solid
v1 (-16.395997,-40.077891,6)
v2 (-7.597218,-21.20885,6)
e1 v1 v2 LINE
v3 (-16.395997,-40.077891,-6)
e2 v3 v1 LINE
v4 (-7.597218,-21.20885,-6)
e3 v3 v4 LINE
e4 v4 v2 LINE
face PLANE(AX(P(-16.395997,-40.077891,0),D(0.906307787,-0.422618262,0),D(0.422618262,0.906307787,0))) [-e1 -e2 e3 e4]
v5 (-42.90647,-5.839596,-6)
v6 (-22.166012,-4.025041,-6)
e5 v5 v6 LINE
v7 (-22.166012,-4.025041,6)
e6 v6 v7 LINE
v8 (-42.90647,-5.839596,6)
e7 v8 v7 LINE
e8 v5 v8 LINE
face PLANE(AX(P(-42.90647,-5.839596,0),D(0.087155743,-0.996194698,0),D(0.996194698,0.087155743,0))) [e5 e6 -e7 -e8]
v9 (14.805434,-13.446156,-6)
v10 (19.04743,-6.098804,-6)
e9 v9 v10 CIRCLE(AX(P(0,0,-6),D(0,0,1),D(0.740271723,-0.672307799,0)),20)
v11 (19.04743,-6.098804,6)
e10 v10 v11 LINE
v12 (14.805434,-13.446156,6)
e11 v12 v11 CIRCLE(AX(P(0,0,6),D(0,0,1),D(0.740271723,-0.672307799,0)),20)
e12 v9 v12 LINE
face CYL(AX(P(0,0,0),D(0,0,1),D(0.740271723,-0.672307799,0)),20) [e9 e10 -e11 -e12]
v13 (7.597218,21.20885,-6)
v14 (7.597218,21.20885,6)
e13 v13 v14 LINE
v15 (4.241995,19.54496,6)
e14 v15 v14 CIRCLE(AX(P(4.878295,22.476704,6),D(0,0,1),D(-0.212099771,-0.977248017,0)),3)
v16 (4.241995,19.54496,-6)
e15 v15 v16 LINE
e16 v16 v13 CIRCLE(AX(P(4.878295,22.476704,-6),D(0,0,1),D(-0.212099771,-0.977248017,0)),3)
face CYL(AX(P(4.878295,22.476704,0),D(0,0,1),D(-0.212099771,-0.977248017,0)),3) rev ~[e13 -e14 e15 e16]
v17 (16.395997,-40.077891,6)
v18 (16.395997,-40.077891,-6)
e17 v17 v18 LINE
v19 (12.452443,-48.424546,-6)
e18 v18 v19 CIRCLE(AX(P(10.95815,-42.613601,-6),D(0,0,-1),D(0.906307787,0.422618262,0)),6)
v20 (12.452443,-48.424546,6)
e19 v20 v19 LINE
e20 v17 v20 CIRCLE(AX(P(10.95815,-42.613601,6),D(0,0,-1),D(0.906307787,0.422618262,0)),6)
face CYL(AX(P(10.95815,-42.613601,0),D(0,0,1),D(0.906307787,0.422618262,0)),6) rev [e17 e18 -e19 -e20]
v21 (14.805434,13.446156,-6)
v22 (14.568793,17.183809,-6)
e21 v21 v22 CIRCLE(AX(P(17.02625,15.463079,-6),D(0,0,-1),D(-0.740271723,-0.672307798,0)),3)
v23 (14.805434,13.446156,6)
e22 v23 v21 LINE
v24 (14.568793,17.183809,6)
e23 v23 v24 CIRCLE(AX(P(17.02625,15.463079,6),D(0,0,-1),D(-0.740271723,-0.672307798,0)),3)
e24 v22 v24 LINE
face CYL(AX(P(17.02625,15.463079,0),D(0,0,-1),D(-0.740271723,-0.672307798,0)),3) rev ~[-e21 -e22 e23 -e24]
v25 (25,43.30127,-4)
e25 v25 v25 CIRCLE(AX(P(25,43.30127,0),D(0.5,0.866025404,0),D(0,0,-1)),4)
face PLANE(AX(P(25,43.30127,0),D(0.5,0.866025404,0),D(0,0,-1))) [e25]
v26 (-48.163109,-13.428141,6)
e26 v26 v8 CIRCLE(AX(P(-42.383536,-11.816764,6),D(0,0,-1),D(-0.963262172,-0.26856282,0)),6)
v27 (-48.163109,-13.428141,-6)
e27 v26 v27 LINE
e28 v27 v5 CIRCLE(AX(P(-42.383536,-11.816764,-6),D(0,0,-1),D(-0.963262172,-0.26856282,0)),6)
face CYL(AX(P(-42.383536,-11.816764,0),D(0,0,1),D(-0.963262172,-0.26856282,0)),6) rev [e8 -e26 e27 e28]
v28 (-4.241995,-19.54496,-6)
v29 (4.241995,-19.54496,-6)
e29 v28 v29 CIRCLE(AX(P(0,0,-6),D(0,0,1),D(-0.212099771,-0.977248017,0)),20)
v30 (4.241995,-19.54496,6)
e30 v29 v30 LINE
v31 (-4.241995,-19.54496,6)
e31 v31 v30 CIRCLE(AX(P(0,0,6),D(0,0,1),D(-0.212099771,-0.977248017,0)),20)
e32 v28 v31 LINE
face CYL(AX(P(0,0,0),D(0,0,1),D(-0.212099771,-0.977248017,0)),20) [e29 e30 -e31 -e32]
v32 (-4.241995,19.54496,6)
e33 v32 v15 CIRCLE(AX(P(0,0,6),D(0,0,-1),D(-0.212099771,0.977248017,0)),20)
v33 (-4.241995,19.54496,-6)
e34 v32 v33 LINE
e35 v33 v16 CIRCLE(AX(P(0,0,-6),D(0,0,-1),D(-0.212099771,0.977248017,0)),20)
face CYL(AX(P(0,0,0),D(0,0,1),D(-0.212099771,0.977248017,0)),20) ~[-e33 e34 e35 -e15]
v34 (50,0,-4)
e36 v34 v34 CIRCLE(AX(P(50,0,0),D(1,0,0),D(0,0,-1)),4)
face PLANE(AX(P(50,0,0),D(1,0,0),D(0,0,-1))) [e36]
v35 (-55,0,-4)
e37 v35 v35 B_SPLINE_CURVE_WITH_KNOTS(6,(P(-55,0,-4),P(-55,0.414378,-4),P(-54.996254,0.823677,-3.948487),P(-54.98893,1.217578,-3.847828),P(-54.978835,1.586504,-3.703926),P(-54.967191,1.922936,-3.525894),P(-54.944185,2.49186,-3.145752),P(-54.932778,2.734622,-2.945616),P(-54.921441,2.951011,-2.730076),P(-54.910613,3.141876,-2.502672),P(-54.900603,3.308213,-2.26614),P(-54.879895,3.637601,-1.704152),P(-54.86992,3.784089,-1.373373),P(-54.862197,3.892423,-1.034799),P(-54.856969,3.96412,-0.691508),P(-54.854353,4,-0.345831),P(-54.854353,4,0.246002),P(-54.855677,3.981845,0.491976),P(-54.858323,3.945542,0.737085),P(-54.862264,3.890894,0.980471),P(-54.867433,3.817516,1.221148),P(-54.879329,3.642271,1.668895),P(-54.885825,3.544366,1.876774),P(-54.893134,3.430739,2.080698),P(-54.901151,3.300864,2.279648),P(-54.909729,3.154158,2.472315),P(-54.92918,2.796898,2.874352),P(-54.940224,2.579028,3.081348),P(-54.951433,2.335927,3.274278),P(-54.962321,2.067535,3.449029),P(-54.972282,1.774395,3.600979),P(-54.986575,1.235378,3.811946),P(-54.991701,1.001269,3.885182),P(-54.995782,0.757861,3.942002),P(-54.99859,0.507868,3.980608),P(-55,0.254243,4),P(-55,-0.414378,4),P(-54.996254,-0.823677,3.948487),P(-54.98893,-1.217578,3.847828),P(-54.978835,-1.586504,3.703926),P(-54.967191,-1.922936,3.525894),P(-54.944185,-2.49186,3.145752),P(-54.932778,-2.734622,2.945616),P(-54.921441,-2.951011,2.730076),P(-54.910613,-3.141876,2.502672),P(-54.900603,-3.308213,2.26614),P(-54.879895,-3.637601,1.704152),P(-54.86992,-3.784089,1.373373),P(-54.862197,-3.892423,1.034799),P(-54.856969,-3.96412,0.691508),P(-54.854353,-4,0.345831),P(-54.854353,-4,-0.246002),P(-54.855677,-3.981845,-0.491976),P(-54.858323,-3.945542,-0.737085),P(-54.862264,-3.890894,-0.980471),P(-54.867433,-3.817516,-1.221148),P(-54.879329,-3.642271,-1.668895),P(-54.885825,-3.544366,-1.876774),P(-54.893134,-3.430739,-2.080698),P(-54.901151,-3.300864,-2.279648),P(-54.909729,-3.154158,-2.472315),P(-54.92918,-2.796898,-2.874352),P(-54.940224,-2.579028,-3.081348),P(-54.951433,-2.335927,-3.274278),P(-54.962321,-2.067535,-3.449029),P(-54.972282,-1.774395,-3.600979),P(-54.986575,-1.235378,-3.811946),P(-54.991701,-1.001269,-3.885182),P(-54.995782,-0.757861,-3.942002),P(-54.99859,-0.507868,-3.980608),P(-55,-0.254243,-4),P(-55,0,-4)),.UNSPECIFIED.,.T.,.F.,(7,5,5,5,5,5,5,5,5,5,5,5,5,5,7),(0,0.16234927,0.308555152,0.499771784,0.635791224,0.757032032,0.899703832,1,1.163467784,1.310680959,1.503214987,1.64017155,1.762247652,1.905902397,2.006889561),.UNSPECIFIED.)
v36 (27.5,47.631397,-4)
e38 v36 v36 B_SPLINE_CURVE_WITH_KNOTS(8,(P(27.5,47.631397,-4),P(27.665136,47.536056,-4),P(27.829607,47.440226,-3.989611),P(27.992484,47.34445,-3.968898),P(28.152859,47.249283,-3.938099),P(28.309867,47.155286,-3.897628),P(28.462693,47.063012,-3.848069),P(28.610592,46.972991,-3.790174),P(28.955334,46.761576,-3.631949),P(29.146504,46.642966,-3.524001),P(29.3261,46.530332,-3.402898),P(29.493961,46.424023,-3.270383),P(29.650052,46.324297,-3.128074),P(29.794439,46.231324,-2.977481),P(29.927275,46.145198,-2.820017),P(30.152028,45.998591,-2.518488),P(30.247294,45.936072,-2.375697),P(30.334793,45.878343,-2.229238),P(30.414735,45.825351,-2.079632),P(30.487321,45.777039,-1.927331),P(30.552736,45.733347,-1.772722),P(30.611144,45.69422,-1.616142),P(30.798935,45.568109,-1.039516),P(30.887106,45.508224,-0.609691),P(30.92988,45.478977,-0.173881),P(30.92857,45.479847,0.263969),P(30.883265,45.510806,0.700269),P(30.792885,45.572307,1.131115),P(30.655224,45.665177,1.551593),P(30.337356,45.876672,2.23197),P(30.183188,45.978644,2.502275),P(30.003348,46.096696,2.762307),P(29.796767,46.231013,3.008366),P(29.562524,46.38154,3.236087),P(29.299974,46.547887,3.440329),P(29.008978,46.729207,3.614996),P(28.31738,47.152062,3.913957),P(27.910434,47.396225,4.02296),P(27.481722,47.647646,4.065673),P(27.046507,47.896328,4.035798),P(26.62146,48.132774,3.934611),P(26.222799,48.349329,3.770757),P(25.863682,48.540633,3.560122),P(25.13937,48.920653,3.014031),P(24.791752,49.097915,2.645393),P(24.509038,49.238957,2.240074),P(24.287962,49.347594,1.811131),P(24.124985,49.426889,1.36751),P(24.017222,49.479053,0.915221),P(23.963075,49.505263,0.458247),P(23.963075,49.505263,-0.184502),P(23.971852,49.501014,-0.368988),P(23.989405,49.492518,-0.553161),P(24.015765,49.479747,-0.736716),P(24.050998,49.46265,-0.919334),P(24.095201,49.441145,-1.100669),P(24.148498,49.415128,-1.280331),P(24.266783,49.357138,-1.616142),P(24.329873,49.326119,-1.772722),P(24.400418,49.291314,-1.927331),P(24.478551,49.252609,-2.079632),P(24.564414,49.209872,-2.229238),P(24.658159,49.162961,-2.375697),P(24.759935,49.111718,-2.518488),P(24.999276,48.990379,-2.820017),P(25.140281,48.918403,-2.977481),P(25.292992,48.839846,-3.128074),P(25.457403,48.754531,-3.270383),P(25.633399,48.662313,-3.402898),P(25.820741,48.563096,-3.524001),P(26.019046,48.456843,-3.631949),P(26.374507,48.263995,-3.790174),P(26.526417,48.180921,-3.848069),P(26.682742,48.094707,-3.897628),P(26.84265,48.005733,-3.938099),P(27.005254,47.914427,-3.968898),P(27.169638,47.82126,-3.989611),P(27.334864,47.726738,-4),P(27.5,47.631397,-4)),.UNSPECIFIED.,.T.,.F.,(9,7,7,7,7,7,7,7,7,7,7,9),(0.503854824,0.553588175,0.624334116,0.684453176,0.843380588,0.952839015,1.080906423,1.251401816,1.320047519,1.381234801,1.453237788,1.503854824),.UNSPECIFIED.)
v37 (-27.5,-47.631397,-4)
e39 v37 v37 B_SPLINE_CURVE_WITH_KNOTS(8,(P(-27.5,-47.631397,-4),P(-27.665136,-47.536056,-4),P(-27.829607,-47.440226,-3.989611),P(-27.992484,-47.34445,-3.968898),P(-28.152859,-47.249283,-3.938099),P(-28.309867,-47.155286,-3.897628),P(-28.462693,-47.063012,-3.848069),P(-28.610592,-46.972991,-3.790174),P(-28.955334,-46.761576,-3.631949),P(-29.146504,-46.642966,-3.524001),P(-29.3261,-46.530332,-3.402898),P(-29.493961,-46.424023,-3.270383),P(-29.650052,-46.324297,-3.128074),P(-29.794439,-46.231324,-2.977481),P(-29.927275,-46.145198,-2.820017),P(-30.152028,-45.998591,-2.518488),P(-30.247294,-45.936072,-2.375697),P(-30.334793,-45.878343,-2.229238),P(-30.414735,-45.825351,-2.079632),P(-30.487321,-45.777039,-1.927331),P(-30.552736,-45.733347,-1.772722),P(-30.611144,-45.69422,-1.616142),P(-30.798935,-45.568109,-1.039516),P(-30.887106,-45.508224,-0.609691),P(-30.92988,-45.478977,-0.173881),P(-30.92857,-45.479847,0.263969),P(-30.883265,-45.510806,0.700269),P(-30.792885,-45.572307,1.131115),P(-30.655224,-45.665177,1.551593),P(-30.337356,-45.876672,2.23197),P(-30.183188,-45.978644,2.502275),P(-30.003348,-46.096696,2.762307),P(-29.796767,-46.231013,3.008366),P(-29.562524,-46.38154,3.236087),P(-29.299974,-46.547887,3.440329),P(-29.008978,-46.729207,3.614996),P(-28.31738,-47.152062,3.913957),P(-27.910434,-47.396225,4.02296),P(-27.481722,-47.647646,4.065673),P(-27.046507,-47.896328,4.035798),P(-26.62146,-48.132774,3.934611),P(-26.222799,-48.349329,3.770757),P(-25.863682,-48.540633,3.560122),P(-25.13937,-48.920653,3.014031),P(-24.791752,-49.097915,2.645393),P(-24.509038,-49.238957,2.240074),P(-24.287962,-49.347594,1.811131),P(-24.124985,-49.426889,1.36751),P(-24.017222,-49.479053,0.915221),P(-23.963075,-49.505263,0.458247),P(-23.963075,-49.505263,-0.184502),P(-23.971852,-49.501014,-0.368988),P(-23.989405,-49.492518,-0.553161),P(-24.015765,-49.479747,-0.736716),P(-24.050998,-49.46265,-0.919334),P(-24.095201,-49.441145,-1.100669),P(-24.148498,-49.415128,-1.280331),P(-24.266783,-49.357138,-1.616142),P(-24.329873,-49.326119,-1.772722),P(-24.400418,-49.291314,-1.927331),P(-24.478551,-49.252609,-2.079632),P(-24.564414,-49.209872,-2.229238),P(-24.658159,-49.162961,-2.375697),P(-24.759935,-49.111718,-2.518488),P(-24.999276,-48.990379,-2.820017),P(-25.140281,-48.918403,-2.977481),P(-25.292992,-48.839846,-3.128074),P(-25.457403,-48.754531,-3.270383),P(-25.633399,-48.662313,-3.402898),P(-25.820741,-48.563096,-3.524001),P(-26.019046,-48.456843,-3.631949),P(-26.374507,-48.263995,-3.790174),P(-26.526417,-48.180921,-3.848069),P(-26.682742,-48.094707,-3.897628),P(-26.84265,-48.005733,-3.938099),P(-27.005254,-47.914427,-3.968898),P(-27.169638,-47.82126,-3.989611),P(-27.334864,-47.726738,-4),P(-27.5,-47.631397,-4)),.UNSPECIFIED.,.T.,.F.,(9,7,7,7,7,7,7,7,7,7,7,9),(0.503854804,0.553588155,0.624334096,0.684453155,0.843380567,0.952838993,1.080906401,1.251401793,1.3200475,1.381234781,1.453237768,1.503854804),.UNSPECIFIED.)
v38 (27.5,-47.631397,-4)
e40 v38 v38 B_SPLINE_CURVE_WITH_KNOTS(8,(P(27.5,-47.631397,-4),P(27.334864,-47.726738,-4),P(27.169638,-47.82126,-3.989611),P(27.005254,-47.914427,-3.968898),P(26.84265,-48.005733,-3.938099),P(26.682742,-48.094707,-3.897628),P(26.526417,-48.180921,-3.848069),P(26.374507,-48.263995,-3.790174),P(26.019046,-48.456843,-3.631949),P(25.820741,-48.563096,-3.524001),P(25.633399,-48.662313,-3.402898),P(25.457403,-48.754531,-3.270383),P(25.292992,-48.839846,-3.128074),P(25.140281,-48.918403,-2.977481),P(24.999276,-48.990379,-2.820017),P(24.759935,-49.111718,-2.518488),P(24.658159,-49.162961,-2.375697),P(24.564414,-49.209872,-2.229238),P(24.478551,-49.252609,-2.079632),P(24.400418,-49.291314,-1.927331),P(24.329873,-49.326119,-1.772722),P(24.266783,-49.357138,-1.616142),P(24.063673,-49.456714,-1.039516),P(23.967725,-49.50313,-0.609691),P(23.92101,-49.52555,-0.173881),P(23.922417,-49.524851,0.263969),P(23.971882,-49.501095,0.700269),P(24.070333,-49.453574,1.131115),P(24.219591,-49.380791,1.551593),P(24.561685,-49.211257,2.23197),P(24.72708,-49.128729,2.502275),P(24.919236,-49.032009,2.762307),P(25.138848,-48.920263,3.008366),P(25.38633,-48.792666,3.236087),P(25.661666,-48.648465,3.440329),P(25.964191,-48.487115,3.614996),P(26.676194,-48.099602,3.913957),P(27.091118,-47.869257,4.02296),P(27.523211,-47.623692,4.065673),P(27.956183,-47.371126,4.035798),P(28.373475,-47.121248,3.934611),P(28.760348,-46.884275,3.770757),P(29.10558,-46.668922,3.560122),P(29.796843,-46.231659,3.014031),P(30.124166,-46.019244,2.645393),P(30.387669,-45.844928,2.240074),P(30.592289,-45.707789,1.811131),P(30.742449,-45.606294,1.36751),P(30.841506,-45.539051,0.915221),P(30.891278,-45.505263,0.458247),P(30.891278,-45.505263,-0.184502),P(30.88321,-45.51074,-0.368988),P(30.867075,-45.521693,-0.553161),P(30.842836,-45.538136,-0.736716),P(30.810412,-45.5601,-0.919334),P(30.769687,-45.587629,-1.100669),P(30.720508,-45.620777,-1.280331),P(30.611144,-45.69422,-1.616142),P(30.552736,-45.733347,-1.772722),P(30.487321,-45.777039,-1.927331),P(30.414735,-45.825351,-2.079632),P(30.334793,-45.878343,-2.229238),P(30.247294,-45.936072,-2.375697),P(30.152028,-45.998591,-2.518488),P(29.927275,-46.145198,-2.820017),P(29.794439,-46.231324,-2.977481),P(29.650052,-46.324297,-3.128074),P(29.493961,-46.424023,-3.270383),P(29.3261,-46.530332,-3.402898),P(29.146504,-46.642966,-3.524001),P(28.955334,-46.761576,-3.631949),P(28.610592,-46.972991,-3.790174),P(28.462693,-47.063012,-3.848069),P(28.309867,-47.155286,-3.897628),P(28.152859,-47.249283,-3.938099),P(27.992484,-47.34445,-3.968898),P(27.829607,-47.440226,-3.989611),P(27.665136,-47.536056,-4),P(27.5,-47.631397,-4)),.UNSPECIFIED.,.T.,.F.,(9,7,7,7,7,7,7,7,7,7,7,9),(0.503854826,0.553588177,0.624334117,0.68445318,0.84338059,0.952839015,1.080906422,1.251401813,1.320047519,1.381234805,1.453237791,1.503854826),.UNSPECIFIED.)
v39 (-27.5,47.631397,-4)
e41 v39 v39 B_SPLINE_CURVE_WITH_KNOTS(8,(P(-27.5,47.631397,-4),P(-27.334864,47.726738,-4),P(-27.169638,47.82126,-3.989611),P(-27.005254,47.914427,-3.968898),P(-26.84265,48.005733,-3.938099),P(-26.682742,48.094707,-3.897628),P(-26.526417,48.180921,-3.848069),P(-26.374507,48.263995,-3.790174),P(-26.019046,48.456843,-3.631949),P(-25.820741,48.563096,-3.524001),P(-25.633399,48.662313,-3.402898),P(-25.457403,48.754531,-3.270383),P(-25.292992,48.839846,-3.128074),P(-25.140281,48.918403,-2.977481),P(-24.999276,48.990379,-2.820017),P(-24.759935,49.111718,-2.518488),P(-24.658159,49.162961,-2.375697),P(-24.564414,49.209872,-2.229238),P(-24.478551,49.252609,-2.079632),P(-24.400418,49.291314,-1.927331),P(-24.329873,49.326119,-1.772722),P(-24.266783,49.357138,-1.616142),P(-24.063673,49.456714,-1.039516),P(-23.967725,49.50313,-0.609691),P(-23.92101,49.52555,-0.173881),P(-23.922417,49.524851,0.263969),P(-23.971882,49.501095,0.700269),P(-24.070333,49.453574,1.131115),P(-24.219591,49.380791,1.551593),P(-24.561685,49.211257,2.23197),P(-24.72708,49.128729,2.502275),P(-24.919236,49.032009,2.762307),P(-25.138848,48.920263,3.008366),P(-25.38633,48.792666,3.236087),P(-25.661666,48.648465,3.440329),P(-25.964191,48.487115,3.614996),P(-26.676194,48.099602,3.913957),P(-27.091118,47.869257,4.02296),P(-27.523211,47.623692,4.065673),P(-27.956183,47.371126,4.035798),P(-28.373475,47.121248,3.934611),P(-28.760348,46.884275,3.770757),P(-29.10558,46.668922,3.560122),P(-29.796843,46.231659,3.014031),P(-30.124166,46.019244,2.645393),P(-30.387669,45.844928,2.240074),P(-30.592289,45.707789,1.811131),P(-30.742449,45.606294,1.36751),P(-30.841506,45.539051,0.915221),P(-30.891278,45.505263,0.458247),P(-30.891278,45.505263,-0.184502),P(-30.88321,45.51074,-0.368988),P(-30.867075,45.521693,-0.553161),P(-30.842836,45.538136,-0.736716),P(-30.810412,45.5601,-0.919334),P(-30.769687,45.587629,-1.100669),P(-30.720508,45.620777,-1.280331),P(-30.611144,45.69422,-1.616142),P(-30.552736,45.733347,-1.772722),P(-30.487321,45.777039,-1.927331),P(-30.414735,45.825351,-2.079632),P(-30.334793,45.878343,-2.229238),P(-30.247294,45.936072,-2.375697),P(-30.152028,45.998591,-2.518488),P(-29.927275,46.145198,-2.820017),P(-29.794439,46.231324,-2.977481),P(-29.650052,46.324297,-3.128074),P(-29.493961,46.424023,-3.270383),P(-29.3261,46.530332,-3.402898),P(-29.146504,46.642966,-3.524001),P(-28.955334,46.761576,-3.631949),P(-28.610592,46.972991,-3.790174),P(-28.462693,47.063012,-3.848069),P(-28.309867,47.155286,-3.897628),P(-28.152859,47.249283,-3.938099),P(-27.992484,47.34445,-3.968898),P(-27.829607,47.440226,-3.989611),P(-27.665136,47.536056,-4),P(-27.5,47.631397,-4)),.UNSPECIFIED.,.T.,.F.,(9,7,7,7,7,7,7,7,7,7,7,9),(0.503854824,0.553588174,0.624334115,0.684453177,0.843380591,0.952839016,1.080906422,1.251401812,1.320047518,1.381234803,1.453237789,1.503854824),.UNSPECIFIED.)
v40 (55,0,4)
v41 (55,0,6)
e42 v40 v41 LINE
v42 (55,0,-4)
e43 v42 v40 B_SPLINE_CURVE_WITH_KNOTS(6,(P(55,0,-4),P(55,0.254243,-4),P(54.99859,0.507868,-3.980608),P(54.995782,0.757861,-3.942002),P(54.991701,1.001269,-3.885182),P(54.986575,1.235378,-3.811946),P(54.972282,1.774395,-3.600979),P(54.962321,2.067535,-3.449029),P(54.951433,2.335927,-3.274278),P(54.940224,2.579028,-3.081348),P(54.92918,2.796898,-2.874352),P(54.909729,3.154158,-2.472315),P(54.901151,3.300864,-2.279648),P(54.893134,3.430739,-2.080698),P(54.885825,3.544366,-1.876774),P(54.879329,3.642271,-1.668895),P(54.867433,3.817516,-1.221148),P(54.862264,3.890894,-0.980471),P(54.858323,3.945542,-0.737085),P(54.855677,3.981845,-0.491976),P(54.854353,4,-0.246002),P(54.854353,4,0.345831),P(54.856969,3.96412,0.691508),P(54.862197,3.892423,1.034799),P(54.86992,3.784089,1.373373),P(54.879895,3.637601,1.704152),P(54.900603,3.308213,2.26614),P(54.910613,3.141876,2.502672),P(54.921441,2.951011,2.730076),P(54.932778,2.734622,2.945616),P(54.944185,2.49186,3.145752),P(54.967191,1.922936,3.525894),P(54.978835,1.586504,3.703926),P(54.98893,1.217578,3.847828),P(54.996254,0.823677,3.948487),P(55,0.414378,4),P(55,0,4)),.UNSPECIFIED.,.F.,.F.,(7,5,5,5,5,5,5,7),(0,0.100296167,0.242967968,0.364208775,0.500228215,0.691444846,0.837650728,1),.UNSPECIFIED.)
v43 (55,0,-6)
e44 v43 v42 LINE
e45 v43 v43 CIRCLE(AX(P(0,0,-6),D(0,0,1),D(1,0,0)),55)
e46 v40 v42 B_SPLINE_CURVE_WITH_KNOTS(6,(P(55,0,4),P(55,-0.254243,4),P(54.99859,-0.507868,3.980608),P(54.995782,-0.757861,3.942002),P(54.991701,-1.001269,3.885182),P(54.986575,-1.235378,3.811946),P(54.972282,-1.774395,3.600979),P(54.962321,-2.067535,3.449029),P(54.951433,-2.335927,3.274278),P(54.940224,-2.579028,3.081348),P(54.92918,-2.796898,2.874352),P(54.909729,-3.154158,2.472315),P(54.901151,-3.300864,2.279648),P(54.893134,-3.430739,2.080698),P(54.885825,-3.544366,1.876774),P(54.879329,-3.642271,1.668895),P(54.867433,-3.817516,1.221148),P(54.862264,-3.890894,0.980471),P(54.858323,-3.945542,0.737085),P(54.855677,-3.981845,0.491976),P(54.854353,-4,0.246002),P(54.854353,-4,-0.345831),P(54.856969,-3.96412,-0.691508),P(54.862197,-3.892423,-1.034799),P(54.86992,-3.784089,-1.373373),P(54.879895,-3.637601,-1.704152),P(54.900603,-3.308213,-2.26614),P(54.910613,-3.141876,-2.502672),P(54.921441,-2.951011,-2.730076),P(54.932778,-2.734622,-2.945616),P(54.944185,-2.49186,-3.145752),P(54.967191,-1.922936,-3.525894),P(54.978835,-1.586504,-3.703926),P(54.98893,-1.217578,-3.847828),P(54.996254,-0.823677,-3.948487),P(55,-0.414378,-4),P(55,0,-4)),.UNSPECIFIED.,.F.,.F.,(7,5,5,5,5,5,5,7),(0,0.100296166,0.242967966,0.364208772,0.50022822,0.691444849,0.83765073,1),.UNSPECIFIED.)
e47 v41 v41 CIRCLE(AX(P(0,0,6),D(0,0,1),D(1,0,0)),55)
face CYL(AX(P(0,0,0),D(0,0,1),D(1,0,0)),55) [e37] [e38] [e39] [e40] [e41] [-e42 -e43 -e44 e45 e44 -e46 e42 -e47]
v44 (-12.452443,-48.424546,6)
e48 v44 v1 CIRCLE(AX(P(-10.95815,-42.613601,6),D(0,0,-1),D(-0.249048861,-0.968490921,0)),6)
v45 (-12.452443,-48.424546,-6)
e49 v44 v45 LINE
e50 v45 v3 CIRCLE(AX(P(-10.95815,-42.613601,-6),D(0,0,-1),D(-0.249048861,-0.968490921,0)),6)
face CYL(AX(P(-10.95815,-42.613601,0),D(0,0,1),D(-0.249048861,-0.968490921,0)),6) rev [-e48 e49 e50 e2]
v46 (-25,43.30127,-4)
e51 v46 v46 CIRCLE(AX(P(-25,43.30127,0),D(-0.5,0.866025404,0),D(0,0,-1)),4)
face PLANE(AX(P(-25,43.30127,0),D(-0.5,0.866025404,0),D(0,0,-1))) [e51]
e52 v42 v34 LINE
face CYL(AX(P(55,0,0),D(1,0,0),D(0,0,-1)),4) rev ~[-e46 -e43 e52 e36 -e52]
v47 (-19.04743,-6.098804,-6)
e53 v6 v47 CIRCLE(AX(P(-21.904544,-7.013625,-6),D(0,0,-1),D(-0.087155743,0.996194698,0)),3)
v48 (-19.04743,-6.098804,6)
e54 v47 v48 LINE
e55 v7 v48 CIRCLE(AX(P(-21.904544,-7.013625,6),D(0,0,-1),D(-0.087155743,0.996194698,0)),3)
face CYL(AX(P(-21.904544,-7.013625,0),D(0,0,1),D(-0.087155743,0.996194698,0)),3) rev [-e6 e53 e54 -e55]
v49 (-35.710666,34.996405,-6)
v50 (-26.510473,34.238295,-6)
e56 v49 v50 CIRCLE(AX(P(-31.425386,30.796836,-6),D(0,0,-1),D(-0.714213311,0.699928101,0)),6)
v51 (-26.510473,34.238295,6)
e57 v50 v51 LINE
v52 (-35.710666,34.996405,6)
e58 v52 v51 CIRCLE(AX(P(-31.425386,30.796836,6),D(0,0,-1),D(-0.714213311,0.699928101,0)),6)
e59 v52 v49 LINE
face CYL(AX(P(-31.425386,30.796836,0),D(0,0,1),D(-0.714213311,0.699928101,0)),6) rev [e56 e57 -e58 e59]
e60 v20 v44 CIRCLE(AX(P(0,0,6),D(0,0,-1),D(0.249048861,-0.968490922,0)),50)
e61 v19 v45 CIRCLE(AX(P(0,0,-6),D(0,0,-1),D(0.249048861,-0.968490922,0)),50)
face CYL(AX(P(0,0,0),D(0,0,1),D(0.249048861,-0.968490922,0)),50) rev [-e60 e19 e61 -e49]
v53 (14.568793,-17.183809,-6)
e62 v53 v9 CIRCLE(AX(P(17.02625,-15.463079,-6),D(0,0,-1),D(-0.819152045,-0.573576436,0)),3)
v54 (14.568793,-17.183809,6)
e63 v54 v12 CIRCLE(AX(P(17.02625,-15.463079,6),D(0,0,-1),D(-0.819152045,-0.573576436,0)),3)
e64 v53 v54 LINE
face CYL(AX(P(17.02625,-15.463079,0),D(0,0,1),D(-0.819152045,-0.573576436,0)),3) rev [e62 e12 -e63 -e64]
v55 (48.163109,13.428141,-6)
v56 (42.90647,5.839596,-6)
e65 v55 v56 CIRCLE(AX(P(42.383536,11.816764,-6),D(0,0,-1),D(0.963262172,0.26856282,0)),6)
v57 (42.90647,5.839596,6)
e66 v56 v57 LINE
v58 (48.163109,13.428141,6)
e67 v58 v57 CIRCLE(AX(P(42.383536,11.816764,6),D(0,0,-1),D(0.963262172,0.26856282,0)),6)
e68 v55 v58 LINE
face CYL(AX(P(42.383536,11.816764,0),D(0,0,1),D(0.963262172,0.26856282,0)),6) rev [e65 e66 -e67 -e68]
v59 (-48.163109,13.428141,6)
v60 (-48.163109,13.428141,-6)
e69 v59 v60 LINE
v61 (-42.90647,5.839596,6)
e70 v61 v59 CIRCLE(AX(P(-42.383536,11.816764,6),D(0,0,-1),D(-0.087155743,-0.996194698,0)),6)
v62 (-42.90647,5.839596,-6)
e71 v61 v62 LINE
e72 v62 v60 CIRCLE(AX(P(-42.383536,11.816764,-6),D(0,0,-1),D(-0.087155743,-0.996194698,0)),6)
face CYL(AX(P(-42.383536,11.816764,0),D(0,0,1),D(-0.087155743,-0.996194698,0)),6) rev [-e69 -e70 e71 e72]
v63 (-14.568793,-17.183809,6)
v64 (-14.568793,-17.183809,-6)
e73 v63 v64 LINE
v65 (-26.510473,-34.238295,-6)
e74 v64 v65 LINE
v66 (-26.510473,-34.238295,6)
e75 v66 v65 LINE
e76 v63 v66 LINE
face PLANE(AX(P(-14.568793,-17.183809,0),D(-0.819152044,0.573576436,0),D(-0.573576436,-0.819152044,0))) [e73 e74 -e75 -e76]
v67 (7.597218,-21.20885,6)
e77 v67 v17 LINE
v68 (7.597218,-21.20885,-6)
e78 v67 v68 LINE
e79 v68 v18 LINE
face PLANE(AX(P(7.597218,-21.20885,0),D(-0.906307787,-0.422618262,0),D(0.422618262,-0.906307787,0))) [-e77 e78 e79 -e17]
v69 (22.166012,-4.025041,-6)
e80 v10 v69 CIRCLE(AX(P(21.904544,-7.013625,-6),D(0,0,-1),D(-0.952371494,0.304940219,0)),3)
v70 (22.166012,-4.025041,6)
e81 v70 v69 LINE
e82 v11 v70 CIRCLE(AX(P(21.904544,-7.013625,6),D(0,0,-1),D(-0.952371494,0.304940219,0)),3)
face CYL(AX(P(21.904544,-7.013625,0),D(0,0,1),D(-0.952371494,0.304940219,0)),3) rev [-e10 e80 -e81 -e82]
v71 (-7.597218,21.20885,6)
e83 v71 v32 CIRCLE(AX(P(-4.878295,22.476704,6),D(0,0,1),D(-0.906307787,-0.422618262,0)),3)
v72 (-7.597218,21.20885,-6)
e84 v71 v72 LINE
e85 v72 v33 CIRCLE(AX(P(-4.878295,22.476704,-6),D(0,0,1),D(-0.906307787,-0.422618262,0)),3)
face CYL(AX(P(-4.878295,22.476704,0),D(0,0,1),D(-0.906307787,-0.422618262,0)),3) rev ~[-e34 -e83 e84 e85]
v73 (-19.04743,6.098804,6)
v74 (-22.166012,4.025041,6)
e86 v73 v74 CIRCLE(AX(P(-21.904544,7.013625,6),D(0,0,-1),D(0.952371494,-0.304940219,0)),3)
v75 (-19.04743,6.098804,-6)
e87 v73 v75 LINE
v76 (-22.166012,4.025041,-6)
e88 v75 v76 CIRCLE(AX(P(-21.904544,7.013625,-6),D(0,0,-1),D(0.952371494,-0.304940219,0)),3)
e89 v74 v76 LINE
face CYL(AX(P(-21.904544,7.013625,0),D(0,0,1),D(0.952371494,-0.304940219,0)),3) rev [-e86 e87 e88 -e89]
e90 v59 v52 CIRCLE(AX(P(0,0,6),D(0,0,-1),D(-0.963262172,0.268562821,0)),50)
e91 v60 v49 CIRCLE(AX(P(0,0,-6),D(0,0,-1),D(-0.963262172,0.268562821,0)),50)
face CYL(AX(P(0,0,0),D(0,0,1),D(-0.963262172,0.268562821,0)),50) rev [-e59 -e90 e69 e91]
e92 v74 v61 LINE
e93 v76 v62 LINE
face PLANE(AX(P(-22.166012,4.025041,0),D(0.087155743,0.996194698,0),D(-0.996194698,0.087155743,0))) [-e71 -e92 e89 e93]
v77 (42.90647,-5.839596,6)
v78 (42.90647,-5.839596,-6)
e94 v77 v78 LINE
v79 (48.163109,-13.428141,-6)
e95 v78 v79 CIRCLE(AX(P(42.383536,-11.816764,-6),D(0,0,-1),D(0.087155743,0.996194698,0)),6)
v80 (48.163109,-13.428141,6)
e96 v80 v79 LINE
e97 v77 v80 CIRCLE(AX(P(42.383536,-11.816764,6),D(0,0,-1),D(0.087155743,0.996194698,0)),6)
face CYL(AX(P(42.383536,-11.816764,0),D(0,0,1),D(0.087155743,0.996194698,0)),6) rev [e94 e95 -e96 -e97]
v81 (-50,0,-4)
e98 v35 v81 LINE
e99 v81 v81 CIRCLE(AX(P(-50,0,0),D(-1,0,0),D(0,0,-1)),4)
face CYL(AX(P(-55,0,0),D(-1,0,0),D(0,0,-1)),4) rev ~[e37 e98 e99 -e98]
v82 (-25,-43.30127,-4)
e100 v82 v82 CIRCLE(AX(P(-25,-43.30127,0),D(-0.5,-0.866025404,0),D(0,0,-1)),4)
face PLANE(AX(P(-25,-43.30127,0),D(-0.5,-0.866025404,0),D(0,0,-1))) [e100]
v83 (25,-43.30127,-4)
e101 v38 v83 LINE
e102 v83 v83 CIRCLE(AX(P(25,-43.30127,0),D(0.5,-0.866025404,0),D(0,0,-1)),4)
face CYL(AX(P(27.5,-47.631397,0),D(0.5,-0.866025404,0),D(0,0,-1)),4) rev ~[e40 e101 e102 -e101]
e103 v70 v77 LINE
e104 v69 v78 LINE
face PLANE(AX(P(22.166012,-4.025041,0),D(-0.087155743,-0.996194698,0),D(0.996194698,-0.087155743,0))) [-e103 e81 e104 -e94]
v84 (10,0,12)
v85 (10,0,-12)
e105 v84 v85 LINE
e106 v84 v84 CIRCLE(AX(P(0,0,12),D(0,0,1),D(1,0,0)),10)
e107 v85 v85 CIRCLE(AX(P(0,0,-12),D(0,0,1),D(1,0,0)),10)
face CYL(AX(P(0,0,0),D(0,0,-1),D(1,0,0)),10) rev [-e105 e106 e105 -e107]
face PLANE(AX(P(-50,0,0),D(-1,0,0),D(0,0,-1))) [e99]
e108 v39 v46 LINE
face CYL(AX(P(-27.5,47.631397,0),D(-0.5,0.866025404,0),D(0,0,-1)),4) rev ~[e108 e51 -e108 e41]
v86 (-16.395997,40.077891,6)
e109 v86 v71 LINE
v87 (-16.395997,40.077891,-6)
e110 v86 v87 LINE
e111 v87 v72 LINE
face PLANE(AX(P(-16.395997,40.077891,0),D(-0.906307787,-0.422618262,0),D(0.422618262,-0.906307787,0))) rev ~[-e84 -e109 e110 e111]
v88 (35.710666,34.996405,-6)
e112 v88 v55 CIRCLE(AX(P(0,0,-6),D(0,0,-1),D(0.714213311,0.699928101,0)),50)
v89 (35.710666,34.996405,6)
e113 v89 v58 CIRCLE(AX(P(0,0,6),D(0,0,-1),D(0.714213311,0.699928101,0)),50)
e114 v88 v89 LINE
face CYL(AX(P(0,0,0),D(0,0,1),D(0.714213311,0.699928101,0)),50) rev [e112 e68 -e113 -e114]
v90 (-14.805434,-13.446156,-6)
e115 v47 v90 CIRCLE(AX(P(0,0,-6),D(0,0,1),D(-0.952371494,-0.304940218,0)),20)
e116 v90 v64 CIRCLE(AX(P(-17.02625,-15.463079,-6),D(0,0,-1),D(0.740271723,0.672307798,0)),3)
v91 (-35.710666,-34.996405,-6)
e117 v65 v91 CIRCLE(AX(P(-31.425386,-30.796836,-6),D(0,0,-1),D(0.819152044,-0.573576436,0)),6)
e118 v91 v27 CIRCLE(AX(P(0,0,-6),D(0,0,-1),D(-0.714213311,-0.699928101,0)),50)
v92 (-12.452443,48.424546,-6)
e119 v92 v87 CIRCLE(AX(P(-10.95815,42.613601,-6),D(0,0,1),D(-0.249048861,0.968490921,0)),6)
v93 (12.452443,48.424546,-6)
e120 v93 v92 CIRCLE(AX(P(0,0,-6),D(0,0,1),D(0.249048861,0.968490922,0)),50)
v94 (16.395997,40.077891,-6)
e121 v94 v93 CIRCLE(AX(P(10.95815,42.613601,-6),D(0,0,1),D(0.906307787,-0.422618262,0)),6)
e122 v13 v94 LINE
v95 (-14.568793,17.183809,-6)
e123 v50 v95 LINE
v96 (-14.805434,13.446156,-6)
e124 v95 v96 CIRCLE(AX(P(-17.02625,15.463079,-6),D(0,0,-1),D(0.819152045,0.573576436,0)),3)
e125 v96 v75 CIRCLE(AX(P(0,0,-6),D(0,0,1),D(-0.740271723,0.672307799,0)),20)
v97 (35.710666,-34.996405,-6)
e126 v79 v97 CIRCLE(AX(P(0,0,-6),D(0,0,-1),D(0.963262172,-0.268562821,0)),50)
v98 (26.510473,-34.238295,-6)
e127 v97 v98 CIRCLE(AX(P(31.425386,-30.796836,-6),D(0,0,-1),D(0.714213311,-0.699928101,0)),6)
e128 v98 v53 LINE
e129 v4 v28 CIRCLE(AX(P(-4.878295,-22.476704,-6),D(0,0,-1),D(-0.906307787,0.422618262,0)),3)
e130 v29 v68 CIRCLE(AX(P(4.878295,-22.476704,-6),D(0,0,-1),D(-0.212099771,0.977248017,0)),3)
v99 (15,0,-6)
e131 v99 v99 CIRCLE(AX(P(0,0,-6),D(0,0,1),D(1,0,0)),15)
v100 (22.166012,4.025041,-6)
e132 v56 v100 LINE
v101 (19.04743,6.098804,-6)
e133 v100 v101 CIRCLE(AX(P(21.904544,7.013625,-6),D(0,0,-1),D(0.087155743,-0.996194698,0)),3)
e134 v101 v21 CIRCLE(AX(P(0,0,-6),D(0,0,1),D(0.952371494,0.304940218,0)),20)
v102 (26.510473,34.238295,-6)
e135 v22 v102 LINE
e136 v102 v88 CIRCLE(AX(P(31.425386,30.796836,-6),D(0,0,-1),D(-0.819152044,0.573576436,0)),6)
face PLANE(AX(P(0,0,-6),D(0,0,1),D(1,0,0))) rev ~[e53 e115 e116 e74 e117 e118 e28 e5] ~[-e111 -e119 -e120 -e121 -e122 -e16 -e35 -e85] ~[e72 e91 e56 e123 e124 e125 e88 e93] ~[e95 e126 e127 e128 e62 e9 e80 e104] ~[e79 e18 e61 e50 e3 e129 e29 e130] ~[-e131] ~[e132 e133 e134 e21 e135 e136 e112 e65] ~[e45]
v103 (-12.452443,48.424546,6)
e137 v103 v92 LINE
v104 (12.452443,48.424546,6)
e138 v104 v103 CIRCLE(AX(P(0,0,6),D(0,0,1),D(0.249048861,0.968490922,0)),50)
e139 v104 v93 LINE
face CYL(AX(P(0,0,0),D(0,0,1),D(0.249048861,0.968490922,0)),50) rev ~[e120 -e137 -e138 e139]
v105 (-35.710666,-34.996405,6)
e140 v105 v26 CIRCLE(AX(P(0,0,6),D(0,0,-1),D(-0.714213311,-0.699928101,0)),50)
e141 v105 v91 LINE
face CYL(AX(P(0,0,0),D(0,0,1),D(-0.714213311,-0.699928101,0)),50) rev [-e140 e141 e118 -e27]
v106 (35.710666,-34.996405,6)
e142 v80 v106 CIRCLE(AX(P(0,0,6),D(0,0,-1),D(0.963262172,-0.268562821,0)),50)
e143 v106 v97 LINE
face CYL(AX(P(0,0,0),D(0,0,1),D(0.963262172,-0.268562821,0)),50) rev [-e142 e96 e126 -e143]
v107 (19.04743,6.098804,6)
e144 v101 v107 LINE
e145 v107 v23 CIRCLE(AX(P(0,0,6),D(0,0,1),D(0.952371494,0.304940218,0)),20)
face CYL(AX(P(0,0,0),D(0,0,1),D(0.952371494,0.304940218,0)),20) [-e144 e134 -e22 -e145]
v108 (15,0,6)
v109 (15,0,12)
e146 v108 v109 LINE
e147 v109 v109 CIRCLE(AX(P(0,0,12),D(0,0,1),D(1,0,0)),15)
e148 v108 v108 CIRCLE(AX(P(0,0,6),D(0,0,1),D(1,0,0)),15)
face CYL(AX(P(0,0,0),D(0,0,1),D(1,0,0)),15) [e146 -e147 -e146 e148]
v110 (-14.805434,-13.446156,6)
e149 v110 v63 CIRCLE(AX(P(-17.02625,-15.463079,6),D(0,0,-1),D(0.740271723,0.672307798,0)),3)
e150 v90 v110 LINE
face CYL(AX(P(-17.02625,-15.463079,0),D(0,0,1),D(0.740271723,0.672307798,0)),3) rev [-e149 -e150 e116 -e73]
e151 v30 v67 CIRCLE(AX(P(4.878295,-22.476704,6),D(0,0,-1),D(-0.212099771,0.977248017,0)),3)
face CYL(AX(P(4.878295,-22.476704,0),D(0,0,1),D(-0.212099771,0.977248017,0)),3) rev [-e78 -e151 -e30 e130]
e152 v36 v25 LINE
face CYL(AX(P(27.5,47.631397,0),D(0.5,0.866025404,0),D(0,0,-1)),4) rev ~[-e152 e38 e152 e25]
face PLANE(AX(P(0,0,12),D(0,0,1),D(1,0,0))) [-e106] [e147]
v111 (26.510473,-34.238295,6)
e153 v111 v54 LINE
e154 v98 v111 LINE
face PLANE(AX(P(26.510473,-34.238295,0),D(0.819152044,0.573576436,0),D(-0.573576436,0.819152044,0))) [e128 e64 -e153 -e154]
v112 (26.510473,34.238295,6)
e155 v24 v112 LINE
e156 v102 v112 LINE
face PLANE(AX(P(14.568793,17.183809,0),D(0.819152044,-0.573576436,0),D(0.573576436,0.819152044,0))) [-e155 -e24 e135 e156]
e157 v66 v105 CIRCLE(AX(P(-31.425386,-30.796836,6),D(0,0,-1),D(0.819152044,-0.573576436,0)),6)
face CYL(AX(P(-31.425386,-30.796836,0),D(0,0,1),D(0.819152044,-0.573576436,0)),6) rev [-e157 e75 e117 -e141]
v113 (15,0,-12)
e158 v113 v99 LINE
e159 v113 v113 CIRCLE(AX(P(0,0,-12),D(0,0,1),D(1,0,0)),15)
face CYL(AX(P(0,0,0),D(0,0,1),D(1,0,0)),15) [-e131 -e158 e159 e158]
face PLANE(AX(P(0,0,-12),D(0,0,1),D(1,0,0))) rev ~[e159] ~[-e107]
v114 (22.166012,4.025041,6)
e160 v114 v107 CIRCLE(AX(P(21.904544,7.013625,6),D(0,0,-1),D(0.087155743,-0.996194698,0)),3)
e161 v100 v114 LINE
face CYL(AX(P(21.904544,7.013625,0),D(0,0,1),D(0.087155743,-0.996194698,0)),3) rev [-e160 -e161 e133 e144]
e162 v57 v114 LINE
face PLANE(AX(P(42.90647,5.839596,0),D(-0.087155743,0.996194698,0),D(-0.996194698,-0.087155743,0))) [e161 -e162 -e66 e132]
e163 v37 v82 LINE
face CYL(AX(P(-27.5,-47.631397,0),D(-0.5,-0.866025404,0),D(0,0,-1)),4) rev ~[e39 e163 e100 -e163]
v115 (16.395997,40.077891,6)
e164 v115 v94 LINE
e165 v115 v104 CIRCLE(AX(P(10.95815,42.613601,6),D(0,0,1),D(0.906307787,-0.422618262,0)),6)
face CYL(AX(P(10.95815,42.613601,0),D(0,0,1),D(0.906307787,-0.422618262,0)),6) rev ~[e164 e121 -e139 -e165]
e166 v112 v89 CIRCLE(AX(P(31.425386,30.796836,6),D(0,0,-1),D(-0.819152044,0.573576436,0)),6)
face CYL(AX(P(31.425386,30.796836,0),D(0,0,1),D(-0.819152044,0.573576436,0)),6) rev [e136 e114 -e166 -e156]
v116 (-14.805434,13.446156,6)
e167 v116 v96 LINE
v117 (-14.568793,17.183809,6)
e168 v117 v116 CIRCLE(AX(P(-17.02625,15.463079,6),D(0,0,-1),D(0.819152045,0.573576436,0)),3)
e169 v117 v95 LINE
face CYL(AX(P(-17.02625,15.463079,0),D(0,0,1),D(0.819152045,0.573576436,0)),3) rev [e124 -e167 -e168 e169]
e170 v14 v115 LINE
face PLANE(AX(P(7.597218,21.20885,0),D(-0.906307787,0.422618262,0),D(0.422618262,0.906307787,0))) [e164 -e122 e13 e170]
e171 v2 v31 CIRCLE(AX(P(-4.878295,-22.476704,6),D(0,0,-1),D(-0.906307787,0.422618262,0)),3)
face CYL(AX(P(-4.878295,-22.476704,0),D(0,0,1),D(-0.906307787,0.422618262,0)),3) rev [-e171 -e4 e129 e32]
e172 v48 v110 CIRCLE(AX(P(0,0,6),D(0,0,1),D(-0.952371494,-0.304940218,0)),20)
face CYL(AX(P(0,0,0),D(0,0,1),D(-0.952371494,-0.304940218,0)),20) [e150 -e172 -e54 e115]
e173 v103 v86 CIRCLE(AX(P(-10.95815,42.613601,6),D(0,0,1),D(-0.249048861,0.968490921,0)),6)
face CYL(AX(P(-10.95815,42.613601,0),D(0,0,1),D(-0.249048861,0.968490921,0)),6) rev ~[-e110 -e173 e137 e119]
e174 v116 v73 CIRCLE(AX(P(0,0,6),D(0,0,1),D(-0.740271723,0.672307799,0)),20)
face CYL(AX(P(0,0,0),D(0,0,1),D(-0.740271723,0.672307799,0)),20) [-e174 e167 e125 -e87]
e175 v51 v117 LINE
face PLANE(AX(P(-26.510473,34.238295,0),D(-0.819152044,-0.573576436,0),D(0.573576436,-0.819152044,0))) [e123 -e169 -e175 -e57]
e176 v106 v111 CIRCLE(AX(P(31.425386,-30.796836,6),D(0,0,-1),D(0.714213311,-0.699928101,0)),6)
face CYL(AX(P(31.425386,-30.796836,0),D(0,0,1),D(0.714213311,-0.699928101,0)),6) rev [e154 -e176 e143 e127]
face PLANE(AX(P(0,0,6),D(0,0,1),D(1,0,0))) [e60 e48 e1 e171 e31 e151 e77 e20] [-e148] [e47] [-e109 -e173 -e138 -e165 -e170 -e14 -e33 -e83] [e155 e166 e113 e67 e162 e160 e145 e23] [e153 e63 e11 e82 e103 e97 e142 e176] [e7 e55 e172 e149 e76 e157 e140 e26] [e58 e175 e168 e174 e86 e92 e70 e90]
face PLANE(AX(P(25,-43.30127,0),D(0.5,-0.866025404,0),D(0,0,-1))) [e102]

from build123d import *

# Parameters (mm, degrees)
CROQUIS1_R              = 15
CROQUIS1_R_2            = 10
SALIENTE_EXTRUIR1_DEPTH = 12
CROQUIS2_R              = 55
CROQUIS2_R_2            = 15
SALIENTE_EXTRUIR2_DEPTH = 6
CROQUIS4_R              = 4
CORTAR_EXTRUIR2_DEPTH   = 5
MATRIZC1_COUNT          = 6


with BuildPart() as part:
    # Croquis1 → Saliente-Extruir1 (new, symmetric)
    with BuildSketch(Plane.XY):
        Circle(CROQUIS1_R)
        Circle(CROQUIS1_R_2, mode=Mode.SUBTRACT)
    extrude(amount=SALIENTE_EXTRUIR1_DEPTH, both=True)

    # Croquis2 → Saliente-Extruir2 (add, symmetric)
    with BuildSketch(Plane.XY):
        Circle(CROQUIS2_R)
        Circle(CROQUIS2_R_2, mode=Mode.SUBTRACT)
        with BuildLine():
            Line((-16.39599659, 40.077890975), (-7.597218099, 21.20884961))
            ThreePointArc((-7.597218099, 21.20884961), (-6.21113479, 19.789040466), (-4.241995424, 19.544960343))
            ThreePointArc((-4.241995424, 19.544960343), (0, 20), (4.241995424, 19.544960343))
            ThreePointArc((4.241995424, 19.544960343), (6.21113479, 19.789040466), (7.597218099, 21.20884961))
            Line((7.597218099, 21.20884961), (16.39599659, 40.077890975))
            ThreePointArc((16.39599659, 40.077890975), (16.383120253, 45.176742429), (12.452443031, 48.424546075))
            ThreePointArc((12.452443031, 48.424546075), (0, 50), (-12.452443031, 48.424546075))
            ThreePointArc((-12.452443031, 48.424546075), (-16.383120253, 45.176742429), (-16.39599659, 40.077890975))
        make_face(mode=Mode.SUBTRACT)
        with BuildLine():
            Line((42.90647001, 5.83959592), (22.166011596, 4.025040933))
            ThreePointArc((22.166011596, 4.025040933), (20.243379154, 4.515519719), (19.047429885, 6.098804372))
            ThreePointArc((19.047429885, 6.098804372), (17.320508076, 10), (14.805434461, 13.446155972))
            ThreePointArc((14.805434461, 13.446155972), (14.032244365, 15.273520747), (14.568793497, 17.183808677))
            Line((14.568793497, 17.183808677), (26.51047342, 34.238295055))
            ThreePointArc((26.51047342, 34.238295055), (30.932646477, 36.776569547), (35.710665552, 34.996405042))
            ThreePointArc((35.710665552, 34.996405042), (43.301270189, 25), (48.163108583, 13.428141033))
            ThreePointArc((48.163108583, 13.428141033), (47.31576673, 8.400172882), (42.90647001, 5.83959592))
        make_face(mode=Mode.SUBTRACT)
        with BuildLine():
            Line((26.51047342, -34.238295055), (14.568793497, -17.183808677))
            ThreePointArc((14.568793497, -17.183808677), (14.032244365, -15.273520747), (14.805434461, -13.446155972))
            ThreePointArc((14.805434461, -13.446155972), (17.320508076, -10), (19.047429885, -6.098804372))
            ThreePointArc((19.047429885, -6.098804372), (20.243379154, -4.515519719), (22.166011596, -4.025040933))
            Line((22.166011596, -4.025040933), (42.90647001, -5.83959592))
            ThreePointArc((42.90647001, -5.83959592), (47.31576673, -8.400172882), (48.163108583, -13.428141033))
            ThreePointArc((48.163108583, -13.428141033), (43.301270189, -25), (35.710665552, -34.996405042))
            ThreePointArc((35.710665552, -34.996405042), (30.932646477, -36.776569547), (26.51047342, -34.238295055))
        make_face(mode=Mode.SUBTRACT)
        with BuildLine():
            Line((-16.39599659, -40.077890975), (-7.597218099, -21.20884961))
            ThreePointArc((-7.597218099, -21.20884961), (-6.21113479, -19.789040466), (-4.241995424, -19.544960343))
            ThreePointArc((-4.241995424, -19.544960343), (0, -20), (4.241995424, -19.544960343))
            ThreePointArc((4.241995424, -19.544960343), (6.21113479, -19.789040466), (7.597218099, -21.20884961))
            Line((7.597218099, -21.20884961), (16.39599659, -40.077890975))
            ThreePointArc((16.39599659, -40.077890975), (16.383120253, -45.176742429), (12.452443031, -48.424546075))
            ThreePointArc((12.452443031, -48.424546075), (0, -50), (-12.452443031, -48.424546075))
            ThreePointArc((-12.452443031, -48.424546075), (-16.383120253, -45.176742429), (-16.39599659, -40.077890975))
        make_face(mode=Mode.SUBTRACT)
        with BuildLine():
            Line((-42.90647001, -5.83959592), (-22.166011596, -4.025040933))
            ThreePointArc((-22.166011596, -4.025040933), (-20.243379154, -4.515519719), (-19.047429885, -6.098804372))
            ThreePointArc((-19.047429885, -6.098804372), (-17.320508076, -10), (-14.805434461, -13.446155972))
            ThreePointArc((-14.805434461, -13.446155972), (-14.032244365, -15.273520747), (-14.568793497, -17.183808677))
            Line((-14.568793497, -17.183808677), (-26.51047342, -34.238295055))
            ThreePointArc((-26.51047342, -34.238295055), (-30.932646477, -36.776569547), (-35.710665552, -34.996405042))
            ThreePointArc((-35.710665552, -34.996405042), (-43.301270189, -25), (-48.163108583, -13.428141033))
            ThreePointArc((-48.163108583, -13.428141033), (-47.31576673, -8.400172882), (-42.90647001, -5.83959592))
        make_face(mode=Mode.SUBTRACT)
        with BuildLine():
            Line((-26.51047342, 34.238295055), (-14.568793497, 17.183808677))
            ThreePointArc((-14.568793497, 17.183808677), (-14.032244365, 15.273520747), (-14.805434461, 13.446155972))
            ThreePointArc((-14.805434461, 13.446155972), (-17.320508076, 10), (-19.047429885, 6.098804372))
            ThreePointArc((-19.047429885, 6.098804372), (-20.243379154, 4.515519719), (-22.166011596, 4.025040933))
            Line((-22.166011596, 4.025040933), (-42.90647001, 5.83959592))
            ThreePointArc((-42.90647001, 5.83959592), (-47.31576673, 8.400172882), (-48.163108583, 13.428141033))
            ThreePointArc((-48.163108583, 13.428141033), (-43.301270189, 25), (-35.710665552, 34.996405042))
            ThreePointArc((-35.710665552, 34.996405042), (-30.932646477, 36.776569547), (-26.51047342, 34.238295055))
        make_face(mode=Mode.SUBTRACT)
    extrude(amount=SALIENTE_EXTRUIR2_DEPTH, both=True)

    # Croquis4 → Cortar-Extruir2 (cut)
    with BuildSketch(Plane(origin=(55, 0, 0), x_dir=(0, 0, -1), z_dir=(1, 0, 0))):
        Circle(CROQUIS4_R)
    cortar_extruir2 = extrude(amount=-CORTAR_EXTRUIR2_DEPTH, mode=Mode.SUBTRACT)

    # MatrizC1: Cortar-Extruir2 ×6 about axis
    matrizc1_axis = Axis((0, 0, 0), (0, 0, 1))
    for i in range(1, MATRIZC1_COUNT):
        add(cortar_extruir2.rotate(matrizc1_axis, i * 360 / MATRIZC1_COUNT), mode=Mode.SUBTRACT)


solid = part.part
